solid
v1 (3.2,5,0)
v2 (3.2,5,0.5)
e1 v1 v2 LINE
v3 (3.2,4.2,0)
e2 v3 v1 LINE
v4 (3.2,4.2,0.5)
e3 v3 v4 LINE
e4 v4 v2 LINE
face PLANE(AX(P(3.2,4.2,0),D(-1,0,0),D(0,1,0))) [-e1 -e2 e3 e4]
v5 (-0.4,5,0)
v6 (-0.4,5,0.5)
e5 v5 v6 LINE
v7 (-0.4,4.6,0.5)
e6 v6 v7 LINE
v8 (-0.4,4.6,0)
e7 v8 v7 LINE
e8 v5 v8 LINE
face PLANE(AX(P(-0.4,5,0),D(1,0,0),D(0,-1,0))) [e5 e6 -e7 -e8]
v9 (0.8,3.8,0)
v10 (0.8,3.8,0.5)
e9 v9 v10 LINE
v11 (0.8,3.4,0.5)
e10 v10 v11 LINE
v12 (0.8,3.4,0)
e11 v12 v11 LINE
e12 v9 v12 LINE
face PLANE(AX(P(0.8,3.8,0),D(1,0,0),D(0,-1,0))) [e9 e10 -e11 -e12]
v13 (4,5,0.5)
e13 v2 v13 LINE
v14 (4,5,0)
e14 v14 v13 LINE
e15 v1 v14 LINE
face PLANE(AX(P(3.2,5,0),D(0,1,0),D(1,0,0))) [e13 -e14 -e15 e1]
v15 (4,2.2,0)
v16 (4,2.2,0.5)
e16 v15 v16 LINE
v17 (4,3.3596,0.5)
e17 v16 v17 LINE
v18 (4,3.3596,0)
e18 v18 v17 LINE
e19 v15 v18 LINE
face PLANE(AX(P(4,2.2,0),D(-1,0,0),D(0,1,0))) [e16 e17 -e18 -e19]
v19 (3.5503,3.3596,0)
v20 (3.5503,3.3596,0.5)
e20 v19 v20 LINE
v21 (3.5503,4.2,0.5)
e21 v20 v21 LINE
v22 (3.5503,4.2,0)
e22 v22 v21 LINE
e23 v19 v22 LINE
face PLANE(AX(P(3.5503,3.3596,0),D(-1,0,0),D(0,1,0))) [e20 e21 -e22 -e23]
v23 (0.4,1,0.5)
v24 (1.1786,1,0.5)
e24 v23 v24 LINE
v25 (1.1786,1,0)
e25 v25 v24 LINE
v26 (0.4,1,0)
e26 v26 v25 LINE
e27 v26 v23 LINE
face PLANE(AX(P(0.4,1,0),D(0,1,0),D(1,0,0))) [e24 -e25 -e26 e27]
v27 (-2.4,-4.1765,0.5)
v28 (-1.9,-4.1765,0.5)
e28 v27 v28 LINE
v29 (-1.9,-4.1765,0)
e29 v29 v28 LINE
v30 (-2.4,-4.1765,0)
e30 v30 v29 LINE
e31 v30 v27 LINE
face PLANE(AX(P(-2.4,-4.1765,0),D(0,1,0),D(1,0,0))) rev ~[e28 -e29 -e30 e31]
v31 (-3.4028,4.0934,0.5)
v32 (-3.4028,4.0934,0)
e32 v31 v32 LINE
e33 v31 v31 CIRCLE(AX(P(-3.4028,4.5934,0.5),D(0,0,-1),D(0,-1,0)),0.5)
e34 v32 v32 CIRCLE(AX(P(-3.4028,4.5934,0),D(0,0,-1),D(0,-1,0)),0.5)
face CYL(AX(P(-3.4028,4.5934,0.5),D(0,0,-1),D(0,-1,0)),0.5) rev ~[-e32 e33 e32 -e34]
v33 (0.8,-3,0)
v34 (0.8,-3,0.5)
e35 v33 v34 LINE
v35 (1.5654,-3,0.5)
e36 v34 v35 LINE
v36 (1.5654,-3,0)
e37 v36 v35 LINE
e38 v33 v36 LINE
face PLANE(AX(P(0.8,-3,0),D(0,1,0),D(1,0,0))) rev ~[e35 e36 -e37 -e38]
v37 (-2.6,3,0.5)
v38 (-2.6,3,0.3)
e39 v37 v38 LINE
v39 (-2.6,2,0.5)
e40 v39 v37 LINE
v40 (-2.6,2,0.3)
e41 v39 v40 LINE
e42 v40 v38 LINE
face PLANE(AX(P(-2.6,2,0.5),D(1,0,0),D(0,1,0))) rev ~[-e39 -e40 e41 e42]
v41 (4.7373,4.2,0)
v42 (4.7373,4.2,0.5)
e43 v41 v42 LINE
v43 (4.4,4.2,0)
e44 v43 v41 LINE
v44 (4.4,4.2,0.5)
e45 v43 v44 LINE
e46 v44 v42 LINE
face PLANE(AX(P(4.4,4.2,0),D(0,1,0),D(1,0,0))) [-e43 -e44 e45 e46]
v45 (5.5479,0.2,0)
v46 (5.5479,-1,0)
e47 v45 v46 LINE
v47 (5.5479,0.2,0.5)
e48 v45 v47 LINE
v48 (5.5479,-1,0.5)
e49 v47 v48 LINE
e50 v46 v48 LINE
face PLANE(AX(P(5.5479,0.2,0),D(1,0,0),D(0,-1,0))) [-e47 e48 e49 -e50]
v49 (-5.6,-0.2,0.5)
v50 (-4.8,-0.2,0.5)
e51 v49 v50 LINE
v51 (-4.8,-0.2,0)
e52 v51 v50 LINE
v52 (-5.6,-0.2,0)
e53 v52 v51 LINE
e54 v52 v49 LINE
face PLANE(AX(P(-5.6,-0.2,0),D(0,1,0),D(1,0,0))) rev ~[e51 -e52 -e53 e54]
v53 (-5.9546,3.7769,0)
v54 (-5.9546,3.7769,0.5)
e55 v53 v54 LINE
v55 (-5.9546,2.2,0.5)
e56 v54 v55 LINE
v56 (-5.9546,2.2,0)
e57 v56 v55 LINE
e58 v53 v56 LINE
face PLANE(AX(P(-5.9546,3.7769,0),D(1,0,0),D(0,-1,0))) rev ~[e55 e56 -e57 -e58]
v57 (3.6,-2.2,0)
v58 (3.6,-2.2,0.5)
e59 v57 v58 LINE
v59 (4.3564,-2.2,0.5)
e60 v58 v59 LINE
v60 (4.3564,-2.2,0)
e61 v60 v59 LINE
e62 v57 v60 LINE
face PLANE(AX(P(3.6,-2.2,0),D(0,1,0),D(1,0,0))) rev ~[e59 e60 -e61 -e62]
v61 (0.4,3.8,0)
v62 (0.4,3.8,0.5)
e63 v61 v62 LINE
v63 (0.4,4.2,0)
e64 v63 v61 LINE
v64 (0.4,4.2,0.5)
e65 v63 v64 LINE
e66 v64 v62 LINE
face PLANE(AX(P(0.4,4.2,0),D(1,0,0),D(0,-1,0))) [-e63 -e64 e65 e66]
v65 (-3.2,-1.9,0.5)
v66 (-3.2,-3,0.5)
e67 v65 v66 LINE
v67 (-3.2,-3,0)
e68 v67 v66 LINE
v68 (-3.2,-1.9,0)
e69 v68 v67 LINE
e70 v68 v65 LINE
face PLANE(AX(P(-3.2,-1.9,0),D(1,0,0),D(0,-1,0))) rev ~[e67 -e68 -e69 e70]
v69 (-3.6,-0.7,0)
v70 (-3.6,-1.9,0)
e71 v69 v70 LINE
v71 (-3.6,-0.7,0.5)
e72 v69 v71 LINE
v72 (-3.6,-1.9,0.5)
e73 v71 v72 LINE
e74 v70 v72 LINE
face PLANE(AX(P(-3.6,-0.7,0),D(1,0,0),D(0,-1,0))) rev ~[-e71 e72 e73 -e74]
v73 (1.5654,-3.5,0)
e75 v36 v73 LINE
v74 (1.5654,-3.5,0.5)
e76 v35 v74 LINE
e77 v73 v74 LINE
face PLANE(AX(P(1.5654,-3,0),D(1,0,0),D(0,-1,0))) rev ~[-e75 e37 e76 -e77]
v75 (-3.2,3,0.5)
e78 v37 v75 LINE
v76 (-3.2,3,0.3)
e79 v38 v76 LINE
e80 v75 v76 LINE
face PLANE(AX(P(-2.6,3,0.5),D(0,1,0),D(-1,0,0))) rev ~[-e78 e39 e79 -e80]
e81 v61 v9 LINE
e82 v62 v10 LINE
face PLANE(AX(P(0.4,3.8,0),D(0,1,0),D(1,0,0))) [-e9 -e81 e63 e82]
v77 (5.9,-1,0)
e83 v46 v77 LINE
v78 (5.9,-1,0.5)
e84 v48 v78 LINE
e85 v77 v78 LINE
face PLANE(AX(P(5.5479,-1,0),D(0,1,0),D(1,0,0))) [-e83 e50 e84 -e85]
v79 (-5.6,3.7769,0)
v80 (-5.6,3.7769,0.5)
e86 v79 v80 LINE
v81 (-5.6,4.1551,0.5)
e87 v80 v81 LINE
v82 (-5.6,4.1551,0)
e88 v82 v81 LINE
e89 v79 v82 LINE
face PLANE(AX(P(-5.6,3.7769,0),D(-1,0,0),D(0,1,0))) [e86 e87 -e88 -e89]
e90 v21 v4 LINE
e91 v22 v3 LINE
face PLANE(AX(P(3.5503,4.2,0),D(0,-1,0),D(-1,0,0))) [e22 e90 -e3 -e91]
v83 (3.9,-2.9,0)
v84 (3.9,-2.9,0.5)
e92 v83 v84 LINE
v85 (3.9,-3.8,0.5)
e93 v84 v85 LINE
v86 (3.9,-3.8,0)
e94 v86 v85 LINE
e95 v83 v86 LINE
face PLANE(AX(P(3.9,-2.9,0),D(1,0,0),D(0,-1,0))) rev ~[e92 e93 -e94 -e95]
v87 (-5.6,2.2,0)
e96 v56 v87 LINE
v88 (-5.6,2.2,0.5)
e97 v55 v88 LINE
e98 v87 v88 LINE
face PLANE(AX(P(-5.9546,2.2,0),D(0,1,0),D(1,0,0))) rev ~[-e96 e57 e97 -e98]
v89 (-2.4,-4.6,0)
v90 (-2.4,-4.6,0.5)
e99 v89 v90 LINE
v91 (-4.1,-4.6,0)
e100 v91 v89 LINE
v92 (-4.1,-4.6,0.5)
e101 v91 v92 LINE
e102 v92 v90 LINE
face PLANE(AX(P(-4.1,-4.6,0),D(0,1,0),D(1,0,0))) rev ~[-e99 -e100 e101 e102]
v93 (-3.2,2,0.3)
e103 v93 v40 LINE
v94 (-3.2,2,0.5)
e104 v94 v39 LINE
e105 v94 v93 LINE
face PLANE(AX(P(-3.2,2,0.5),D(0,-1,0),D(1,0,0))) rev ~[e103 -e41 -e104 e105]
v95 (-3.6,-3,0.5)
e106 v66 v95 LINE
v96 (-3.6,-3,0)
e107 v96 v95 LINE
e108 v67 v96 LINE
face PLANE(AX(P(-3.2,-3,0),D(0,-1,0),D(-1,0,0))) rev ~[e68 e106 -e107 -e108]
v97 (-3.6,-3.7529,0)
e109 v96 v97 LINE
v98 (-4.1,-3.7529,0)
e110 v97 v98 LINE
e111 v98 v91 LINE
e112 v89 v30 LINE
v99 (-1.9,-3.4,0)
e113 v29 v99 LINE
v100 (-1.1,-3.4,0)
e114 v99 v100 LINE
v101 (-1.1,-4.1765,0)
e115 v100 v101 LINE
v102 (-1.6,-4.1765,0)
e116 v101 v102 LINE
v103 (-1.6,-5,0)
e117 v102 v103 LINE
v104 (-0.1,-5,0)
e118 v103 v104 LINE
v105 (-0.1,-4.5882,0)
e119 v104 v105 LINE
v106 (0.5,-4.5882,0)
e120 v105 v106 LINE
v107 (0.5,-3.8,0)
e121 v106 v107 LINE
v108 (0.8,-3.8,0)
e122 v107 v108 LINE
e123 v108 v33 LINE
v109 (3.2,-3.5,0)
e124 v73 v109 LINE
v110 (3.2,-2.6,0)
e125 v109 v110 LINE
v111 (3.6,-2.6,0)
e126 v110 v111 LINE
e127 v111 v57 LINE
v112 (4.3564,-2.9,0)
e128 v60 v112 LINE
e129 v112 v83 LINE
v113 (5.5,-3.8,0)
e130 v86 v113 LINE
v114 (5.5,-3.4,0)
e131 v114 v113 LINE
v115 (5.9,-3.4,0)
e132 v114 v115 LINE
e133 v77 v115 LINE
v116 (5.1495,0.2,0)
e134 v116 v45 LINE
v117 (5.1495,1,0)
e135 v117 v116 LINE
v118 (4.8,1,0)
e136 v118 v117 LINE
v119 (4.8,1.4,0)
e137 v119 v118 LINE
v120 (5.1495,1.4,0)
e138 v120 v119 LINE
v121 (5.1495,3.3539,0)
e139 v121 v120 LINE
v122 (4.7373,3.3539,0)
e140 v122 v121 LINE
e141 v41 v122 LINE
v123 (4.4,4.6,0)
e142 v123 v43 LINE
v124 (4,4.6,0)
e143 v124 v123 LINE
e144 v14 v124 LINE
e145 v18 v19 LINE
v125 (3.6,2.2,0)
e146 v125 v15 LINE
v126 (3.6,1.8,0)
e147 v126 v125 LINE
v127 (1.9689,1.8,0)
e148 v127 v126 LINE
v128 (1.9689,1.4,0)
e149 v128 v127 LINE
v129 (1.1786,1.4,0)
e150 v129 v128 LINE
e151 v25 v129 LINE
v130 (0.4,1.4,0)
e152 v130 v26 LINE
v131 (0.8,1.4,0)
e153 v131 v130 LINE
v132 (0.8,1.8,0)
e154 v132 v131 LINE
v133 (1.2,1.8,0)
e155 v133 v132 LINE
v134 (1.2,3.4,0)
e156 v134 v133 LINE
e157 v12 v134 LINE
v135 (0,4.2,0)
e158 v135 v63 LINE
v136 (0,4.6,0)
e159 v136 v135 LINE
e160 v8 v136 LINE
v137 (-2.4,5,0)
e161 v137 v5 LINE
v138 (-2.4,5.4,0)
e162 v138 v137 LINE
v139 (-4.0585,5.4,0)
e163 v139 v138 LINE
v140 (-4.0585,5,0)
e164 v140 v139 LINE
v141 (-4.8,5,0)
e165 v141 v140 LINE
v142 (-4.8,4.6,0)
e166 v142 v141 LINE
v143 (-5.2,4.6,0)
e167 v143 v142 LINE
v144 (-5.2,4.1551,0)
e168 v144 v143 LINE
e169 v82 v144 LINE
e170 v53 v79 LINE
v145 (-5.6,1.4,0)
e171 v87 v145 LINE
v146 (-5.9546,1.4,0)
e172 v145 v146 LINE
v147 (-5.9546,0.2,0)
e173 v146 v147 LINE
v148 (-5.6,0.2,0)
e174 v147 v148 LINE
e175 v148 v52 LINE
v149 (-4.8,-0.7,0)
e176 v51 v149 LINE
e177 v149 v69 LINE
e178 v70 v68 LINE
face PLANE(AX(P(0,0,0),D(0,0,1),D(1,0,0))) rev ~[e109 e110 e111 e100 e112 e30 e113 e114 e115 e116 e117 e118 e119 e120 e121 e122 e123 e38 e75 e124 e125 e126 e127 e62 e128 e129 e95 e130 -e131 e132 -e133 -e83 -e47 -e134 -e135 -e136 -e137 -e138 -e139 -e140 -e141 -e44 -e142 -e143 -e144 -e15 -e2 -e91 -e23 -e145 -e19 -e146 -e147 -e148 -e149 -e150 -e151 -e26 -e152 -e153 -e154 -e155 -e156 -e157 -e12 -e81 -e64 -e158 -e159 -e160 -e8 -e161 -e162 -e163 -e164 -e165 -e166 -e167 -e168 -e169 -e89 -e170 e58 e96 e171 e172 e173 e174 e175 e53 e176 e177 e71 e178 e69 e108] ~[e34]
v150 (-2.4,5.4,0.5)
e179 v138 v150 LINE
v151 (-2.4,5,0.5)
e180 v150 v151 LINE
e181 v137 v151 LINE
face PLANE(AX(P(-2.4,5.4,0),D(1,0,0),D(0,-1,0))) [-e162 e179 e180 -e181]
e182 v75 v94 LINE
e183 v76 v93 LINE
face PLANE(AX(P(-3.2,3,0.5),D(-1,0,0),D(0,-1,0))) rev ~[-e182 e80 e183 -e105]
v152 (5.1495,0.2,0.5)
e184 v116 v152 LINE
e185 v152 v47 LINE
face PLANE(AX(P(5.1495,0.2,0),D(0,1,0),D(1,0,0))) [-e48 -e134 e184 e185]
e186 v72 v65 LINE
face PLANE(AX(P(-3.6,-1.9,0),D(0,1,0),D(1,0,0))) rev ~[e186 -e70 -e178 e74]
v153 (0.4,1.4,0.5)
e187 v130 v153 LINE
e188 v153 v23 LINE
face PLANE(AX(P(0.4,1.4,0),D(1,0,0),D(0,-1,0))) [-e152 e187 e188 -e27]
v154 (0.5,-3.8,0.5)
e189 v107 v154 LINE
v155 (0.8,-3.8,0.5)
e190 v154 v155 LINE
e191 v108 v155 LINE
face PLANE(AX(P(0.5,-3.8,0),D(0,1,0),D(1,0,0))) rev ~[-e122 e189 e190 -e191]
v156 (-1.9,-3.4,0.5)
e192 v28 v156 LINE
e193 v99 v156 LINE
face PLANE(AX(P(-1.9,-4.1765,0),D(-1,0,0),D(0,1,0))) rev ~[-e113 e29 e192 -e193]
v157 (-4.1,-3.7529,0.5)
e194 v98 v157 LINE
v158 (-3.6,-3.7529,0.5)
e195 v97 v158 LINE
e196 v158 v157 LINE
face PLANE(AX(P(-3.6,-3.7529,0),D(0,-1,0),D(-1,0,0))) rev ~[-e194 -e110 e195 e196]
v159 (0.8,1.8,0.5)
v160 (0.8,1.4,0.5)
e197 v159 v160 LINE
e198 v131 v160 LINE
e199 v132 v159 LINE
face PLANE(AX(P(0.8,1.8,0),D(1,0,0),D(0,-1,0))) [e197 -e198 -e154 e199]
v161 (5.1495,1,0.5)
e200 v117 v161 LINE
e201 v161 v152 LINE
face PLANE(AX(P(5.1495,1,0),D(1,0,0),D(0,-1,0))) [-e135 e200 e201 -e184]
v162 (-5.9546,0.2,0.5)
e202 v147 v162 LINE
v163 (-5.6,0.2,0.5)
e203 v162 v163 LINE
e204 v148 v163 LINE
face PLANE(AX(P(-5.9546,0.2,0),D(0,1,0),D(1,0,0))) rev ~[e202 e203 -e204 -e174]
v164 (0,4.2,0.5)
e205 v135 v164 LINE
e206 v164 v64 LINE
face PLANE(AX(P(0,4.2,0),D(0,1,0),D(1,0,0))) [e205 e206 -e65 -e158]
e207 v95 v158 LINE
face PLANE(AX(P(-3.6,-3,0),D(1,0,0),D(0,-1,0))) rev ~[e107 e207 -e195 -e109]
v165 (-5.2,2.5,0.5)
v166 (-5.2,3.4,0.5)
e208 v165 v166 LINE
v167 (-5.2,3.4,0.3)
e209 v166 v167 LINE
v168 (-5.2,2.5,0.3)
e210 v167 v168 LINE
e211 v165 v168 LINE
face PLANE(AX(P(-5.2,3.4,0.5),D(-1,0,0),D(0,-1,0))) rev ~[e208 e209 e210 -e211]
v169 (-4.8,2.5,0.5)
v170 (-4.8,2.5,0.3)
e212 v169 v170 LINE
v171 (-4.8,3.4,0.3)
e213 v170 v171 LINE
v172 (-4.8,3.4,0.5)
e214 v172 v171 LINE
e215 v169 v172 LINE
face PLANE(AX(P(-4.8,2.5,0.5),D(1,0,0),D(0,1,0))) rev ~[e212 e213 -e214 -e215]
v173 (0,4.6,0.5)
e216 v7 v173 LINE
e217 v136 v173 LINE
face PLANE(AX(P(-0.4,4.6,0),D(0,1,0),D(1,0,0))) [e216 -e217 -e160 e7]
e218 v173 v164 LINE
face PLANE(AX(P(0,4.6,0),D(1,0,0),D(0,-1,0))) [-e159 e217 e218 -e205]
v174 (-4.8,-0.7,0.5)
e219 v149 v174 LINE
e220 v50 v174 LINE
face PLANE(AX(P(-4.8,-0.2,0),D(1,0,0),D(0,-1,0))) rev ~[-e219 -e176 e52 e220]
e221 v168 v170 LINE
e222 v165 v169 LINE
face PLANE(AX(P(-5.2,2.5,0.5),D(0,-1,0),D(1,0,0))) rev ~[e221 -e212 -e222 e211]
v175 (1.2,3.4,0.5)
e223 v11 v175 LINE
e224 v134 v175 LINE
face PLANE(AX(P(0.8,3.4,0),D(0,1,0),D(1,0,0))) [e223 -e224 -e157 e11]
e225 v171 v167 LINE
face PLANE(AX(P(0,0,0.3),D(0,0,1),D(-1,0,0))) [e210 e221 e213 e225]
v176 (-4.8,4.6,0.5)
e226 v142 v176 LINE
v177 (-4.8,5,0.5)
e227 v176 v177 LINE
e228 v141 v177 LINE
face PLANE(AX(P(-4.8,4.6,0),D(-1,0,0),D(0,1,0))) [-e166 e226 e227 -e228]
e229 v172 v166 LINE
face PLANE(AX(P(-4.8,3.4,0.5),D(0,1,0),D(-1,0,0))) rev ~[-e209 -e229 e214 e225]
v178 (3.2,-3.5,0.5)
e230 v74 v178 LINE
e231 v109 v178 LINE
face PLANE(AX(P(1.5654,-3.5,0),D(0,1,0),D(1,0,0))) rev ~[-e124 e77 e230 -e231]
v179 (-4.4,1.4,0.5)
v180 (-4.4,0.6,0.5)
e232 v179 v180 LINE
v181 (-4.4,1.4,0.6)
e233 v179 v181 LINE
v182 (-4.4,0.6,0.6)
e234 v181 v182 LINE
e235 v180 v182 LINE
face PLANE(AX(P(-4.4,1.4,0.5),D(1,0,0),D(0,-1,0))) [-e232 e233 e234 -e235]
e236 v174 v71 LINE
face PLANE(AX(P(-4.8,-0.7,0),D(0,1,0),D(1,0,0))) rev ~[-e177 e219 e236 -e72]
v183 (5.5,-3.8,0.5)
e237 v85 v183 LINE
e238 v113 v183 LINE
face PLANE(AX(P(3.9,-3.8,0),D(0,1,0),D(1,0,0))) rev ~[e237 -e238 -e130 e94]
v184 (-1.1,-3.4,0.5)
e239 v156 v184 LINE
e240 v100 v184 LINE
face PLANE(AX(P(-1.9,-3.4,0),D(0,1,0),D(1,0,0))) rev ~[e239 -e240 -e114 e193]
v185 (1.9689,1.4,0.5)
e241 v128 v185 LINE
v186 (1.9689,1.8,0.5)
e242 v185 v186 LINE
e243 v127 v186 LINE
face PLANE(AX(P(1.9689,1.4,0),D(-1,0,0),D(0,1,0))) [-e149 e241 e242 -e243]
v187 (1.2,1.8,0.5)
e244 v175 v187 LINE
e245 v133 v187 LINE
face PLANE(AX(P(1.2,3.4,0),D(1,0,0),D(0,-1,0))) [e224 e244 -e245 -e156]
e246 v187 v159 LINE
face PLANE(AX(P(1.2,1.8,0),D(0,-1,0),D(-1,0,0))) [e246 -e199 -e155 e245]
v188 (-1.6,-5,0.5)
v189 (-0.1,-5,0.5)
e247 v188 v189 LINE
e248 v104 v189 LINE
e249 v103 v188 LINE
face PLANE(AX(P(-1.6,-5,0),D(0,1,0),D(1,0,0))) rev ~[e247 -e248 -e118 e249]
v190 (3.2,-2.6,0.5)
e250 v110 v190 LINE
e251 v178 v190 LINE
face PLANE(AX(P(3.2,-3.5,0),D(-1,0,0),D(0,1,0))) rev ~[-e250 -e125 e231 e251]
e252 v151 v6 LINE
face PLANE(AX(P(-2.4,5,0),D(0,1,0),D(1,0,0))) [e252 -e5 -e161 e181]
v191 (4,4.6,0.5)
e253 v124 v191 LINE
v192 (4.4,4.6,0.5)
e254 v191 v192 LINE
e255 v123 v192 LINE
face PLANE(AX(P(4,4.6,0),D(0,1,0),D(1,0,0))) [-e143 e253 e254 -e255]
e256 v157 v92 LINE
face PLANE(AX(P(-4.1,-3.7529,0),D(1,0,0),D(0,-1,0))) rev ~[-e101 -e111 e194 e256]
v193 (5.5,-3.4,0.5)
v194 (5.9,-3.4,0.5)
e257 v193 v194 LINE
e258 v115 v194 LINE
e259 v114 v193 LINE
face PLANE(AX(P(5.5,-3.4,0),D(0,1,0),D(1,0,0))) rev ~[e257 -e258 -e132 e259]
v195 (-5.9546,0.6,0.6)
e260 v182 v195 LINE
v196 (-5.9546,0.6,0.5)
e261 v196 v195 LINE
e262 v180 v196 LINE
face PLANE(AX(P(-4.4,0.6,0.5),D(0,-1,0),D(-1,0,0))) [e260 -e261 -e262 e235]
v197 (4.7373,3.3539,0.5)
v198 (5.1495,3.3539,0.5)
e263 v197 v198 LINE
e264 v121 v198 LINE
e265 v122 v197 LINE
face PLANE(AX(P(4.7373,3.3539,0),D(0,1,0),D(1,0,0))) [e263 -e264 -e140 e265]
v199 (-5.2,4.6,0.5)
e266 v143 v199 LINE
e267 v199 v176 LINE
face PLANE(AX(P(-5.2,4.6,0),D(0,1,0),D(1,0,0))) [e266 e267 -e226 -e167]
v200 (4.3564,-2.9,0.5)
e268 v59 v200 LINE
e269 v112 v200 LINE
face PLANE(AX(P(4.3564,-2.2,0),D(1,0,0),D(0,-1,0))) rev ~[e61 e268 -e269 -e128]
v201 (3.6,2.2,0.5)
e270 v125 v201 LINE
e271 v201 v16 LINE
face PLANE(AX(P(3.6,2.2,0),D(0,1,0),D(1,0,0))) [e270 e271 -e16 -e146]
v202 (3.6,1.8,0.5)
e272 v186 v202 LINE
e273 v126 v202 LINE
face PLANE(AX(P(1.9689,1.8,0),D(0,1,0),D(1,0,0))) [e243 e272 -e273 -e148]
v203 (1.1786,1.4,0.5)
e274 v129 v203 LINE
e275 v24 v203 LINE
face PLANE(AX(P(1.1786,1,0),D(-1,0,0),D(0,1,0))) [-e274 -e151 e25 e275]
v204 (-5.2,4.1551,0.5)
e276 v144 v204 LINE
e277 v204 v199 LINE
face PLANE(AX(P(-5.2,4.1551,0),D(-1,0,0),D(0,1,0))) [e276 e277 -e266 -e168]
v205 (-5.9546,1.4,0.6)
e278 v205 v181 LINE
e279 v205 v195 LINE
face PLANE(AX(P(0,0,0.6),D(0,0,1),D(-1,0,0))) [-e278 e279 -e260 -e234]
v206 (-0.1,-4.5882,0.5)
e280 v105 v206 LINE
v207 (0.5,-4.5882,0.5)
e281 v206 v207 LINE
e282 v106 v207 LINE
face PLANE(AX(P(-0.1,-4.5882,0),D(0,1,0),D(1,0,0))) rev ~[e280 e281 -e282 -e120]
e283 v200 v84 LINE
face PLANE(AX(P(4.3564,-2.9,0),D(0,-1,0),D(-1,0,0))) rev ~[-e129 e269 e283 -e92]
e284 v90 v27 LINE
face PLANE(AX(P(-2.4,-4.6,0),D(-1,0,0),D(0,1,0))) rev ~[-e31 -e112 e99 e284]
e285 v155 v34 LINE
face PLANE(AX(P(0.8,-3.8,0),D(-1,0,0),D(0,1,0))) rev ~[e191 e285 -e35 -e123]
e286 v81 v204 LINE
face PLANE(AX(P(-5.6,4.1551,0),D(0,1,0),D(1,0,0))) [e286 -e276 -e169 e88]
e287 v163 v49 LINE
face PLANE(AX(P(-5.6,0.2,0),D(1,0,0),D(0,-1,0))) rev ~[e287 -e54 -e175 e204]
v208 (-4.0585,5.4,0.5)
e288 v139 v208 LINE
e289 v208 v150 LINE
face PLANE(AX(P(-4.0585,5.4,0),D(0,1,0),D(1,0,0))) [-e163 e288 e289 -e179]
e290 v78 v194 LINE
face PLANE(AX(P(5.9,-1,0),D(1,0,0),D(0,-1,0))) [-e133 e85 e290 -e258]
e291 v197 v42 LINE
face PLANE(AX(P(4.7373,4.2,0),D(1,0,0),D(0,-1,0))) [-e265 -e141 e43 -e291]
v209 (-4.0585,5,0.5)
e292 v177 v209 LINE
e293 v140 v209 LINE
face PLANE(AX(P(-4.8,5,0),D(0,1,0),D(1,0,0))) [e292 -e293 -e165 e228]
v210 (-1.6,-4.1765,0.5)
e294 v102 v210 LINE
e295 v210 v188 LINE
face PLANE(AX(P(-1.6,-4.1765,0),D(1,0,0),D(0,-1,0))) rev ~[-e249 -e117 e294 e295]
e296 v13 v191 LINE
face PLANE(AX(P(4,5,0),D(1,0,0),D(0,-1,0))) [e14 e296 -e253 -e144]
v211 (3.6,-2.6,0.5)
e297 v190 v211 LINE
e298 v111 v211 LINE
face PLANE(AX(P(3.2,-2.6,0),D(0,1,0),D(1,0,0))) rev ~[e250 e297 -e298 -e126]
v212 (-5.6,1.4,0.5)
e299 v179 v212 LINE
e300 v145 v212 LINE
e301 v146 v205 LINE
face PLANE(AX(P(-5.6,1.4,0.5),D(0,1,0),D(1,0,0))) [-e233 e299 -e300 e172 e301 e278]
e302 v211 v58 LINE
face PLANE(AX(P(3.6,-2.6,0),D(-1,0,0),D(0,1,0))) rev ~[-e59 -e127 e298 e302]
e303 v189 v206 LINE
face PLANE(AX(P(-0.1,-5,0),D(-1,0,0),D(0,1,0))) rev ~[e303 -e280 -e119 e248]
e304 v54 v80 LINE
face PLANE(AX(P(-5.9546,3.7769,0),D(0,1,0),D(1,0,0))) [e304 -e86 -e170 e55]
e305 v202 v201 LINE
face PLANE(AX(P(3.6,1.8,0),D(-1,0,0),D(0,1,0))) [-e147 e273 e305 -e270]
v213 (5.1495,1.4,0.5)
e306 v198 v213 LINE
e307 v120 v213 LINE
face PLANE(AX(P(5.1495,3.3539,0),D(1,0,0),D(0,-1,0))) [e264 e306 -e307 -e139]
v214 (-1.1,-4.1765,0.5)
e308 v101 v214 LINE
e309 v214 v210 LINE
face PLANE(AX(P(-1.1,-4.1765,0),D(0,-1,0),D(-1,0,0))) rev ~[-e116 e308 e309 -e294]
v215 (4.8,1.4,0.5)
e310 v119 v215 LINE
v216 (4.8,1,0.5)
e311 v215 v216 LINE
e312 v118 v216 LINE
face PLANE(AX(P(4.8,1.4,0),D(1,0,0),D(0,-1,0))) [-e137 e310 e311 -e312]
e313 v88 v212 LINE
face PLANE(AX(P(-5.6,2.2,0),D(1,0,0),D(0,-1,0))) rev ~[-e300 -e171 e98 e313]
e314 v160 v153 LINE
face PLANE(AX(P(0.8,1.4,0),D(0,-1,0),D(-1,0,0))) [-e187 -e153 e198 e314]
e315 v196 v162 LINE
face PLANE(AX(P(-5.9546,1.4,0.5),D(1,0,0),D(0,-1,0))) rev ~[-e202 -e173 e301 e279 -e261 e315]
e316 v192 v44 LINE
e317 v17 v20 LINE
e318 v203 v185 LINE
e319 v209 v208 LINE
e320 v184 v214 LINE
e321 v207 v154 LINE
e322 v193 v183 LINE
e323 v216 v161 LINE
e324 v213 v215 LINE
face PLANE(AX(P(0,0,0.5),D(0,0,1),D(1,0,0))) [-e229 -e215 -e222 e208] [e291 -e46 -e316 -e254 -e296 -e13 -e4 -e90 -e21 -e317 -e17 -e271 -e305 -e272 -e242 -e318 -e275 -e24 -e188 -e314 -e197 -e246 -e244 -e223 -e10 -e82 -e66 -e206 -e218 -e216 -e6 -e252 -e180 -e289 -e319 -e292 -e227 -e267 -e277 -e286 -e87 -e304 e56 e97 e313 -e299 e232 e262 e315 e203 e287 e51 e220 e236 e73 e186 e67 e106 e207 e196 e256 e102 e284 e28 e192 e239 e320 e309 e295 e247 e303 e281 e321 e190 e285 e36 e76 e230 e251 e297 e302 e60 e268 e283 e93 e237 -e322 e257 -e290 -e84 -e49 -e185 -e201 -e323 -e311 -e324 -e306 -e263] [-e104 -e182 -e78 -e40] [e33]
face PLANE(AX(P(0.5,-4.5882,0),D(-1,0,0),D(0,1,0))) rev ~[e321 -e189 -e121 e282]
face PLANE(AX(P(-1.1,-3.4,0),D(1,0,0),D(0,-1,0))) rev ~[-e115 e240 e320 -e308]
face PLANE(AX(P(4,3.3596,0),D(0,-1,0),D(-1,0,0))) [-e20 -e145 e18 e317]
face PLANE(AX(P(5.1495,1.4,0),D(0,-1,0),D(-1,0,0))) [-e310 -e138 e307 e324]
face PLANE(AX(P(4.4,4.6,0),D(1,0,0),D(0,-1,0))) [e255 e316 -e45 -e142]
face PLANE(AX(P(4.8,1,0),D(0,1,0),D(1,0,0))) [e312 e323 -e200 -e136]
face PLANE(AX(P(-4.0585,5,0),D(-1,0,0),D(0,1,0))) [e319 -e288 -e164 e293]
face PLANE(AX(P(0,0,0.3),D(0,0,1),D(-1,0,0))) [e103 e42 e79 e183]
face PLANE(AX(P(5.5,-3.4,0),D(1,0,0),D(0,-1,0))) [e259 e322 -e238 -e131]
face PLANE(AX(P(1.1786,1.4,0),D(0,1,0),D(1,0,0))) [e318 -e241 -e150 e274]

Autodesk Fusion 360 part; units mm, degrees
sketch "Dog_body" plane through (0, 0, 0) normal (0, 0, 1) x (1, 0, 0)
  line L0 (-5.9546, 3.7769) -> (-5.6, 3.7769)
  line L1 (-5.6, 3.7769) -> (-5.6, 4.1551)
  line L2 (-5.6, 4.1551) -> (-5.2, 4.1551)
  line L3 (-5.2, 4.1551) -> (-5.2, 4.6)
  line L4 (-5.2, 4.6) -> (-4.8, 4.6)
  line L5 (-4.8, 4.6) -> (-4.8, 5)
  line L6 (-4.8, 5) -> (-4.0585, 5)
  line L7 (-4.0585, 5) -> (-4.0585, 5.4)
  line L8 (-4.0585, 5.4) -> (-2.4, 5.4)
  line L9 (-2.4, 5.4) -> (-2.4, 5)
  line L10 (-2.4, 5) -> (-0.4, 5)
  line L11 (-0.4, 5) -> (-0.4, 4.6)
  line L12 (-5.9546, 3.7769) -> (-5.9546, 2.2)
  line L13 (-5.9546, 2.2) -> (-5.6, 2.2)
  line L14 (-5.6, 2.2) -> (-5.6, 1.4)
  line L15 (-5.6, 1.4) -> (-5.9546, 1.4)
  line L16 (-5.9546, 1.4) -> (-5.9546, 0.2)
  line L17 (-5.9546, 0.2) -> (-5.6, 0.2)
  line L18 (-5.6, 0.2) -> (-5.6, -0.2)
  line L19 (-5.6, -0.2) -> (-4.8, -0.2)
  line L20 (-4.8, -0.2) -> (-4.8, -0.7)
  line L21 (-4.8, -0.7) -> (-3.6, -0.7)
  line L22 (-3.6, -0.7) -> (-3.6, -1.9)
  line L23 (-3.6, -1.9) -> (-3.2, -1.9)
  line L24 (-3.2, -1.9) -> (-3.2, -3)
  line L25 (-3.2, -3) -> (-3.6, -3)
  line L26 (-3.6, -3) -> (-3.6, -3.7529)
  line L27 (-3.6, -3.7529) -> (-4.1, -3.7529)
  line L28 (-4.1, -3.7529) -> (-4.1, -4.6)
  line L29 (-4.1, -4.6) -> (-2.4, -4.6)
  line L30 (-2.4, -4.6) -> (-2.4, -4.1765)
  line L31 (-2.4, -4.1765) -> (-1.9, -4.1765)
  line L32 (-1.9, -4.1765) -> (-1.9, -3.4)
  line L33 (-1.9, -3.4) -> (-1.1, -3.4)
  line L34 (-1.1, -3.4) -> (-1.1, -4.1765)
  line L35 (-1.1, -4.1765) -> (-1.6, -4.1765)
  line L36 (-1.6, -4.1765) -> (-1.6, -5)
  line L37 (-1.6, -5) -> (-0.1, -5)
  line L38 (-0.1, -5) -> (-0.1, -4.5882)
  line L39 (-0.1, -4.5882) -> (0.5, -4.5882)
  line L40 (0.5, -4.5882) -> (0.5, -3.8)
  line L41 (5.1495, 3.3539) -> (5.1495, 1.4)
  line L42 (5.1495, 1.4) -> (4.8, 1.4)
  line L43 (4.8, 1.4) -> (4.8, 1)
  line L44 (4.8, 1) -> (5.1495, 1)
  line L45 (5.1495, 1) -> (5.1495, 0.2)
  line L46 (5.1495, 0.2) -> (5.5479, 0.2)
  line L47 (5.5479, 0.2) -> (5.5479, -1)
  line L48 (5.5479, -1) -> (5.9, -1)
  line L49 (5.9, -1) -> (5.9, -3.4)
  line L50 (-0.4, 4.6) -> (0, 4.6)
  line L51 (0, 4.6) -> (0, 4.2)
  line L52 (0, 4.2) -> (0.4, 4.2)
  line L53 (0.4, 4.2) -> (0.4, 3.8)
  line L54 (0.4, 3.8) -> (0.8, 3.8)
  line L55 (0.8, 3.8) -> (0.8, 3.4)
  line L56 (0.8, 3.4) -> (1.2, 3.4)
  line L57 (1.2, 3.4) -> (1.2, 1.8)
  line L58 (1.2, 1.8) -> (0.8, 1.8)
  line L59 (0.8, 1.8) -> (0.8, 1.4)
  line L60 (0.8, 1.4) -> (0.4, 1.4)
  line L61 (0.4, 1.4) -> (0.4, 1)
  line L62 (0.4, 1) -> (1.1786, 1)
  line L63 (1.1786, 1) -> (1.1786, 1.4)
  line L64 (1.1786, 1.4) -> (1.9689, 1.4)
  line L65 (1.9689, 1.4) -> (1.9689, 1.8)
  line L66 (1.9689, 1.8) -> (3.6, 1.8)
  line L67 (3.6, 1.8) -> (3.6, 2.2)
  line L68 (3.6, 2.2) -> (4, 2.2)
  line L69 (4, 2.2) -> (4, 3.3596)
  line L70 (4, 3.3596) -> (3.5503, 3.3596)
  line L71 (3.5503, 3.3596) -> (3.5503, 4.2)
  line L72 (3.5503, 4.2) -> (3.2, 4.2)
  line L73 (3.2, 4.2) -> (3.2, 5)
  line L74 (3.2, 5) -> (4, 5)
  line L75 (4, 5) -> (4, 4.6)
  line L76 (4, 4.6) -> (4.4, 4.6)
  line L77 (4.4, 4.6) -> (4.4, 4.2)
  line L78 (4.4, 4.2) -> (4.7373, 4.2)
  line L79 (4.7373, 4.2) -> (4.7373, 3.4)
  line L80 (4.7373, 3.4) -> (4.7373, 3.3539)
  line L81 (4.7373, 3.3539) -> (5.1495, 3.3539)
  line L82 (0.5, -3.8) -> (0.8, -3.8)
  line L83 (0.8, -3.8) -> (0.8, -3)
  line L84 (0.8, -3) -> (1.5654, -3)
  line L85 (1.5654, -3) -> (1.5654, -3.5)
  line L86 (1.5654, -3.5) -> (3.2, -3.5)
  line L87 (3.2, -3.5) -> (3.2, -2.6)
  line L88 (3.2, -2.6) -> (3.6, -2.6)
  line L89 (3.6, -2.6) -> (3.6, -2.2)
  line L90 (3.6, -2.2) -> (4.3564, -2.2)
  line L91 (4.3564, -2.2) -> (4.3564, -2.9)
  line L92 (4.3564, -2.9) -> (3.9, -2.9)
  line L93 (3.9, -2.9) -> (3.9, -3.8)
  line L94 (3.9, -3.8) -> (5.5, -3.8)
  line L95 (5.5, -3.4) -> (5.9, -3.4)
  line L96 (5.5, -3.4) -> (5.5, -3.8)
extrude "Extrude1" add sketch "Dog_body" along normal blind 0.5
sketch "Dog_eyes" plane through (0, 0, 0.5) normal (0, 0, 1) x (-1, 0, 0)
  line L0 (5.9546, -3.7769) -> (5.9546, -2.2)
  line L1 (5.9546, -2.2) -> (5.6, -2.2)
  line L2 (5.6, -2.2) -> (5.6, -1.4)
  line L3 (5.6, -1.4) -> (5.9546, -1.4)
  line L4 (5.9546, -1.4) -> (5.9546, -0.2)
  line L5 (5.9546, -0.2) -> (5.6, -0.2)
  line L6 (5.6, -0.2) -> (5.6, 0.2)
  line L7 (5.6, 0.2) -> (4.8, 0.2)
  line L8 (4.8, 0.2) -> (4.8, 0.7)
  line L9 (4.8, 0.7) -> (3.6, 0.7)
  line L10 (3.6, 0.7) -> (3.6, 1.9)
  line L11 (3.6, 1.9) -> (3.2, 1.9)
  line L12 (3.2, 1.9) -> (3.2, 3)
  line L13 (3.2, 3) -> (3.6, 3)
  line L14 (3.6, 3) -> (3.6, 3.7529)
  line L15 (3.6, 3.7529) -> (4.1, 3.7529)
  line L16 (4.1, 3.7529) -> (4.1, 4.6)
  line L17 (4.1, 4.6) -> (2.4, 4.6)
  line L18 (2.4, 4.6) -> (2.4, 4.1765)
  line L19 (2.4, 4.1765) -> (1.9, 4.1765)
  line L20 (1.9, 4.1765) -> (1.9, 3.4)
  line L21 (1.9, 3.4) -> (1.1, 3.4)
  line L22 (1.1, 3.4) -> (1.1, 4.1765)
  line L23 (1.1, 4.1765) -> (1.6, 4.1765)
  line L24 (1.6, 4.1765) -> (1.6, 5)
  line L25 (1.6, 5) -> (0.1, 5)
  line L26 (0.1, 5) -> (0.1, 4.5882)
  line L27 (0.1, 4.5882) -> (-0.5, 4.5882)
  line L28 (-0.5, 4.5882) -> (-0.5, 3.8)
  line L29 (-0.5, 3.8) -> (-0.8, 3.8)
  line L30 (-0.8, 3.8) -> (-0.8, 3)
  line L31 (-0.8, 3) -> (-1.5654, 3)
  line L32 (-1.5654, 3) -> (-1.5654, 3.5)
  line L33 (-1.5654, 3.5) -> (-3.2, 3.5)
  line L34 (-3.2, 3.5) -> (-3.2, 2.6)
  line L35 (-3.2, 2.6) -> (-3.6, 2.6)
  line L36 (-3.6, 2.6) -> (-3.6, 2.2)
  line L37 (-3.6, 2.2) -> (-4.3564, 2.2)
  line L38 (-4.3564, 2.2) -> (-4.3564, 2.9)
  line L39 (-4.3564, 2.9) -> (-3.9, 2.9)
  line L40 (-3.9, 2.9) -> (-3.9, 3.8)
  line L41 (-3.9, 3.8) -> (-5.5, 3.8)
  line L42 (-5.5, 3.8) -> (-5.5, 3.4)
  line L43 (-5.5, 3.4) -> (-5.9, 3.4)
  line L44 (-5.9, 3.4) -> (-5.9, 1)
  line L45 (-5.9, 1) -> (-5.5479, 1)
  line L46 (-5.5479, 1) -> (-5.5479, -0.2)
  line L47 (-5.5479, -0.2) -> (-5.1495, -0.2)
  line L48 (-5.1495, -0.2) -> (-5.1495, -1)
  line L49 (-5.1495, -1) -> (-4.8, -1)
  line L50 (-4.8, -1) -> (-4.8, -1.4)
  line L51 (-4.8, -1.4) -> (-5.1495, -1.4)
  line L52 (-5.1495, -1.4) -> (-5.1495, -3.3539)
  line L53 (-5.1495, -3.3539) -> (-4.7373, -3.3539)
  line L54 (-4.7373, -3.3539) -> (-4.7373, -4.2)
  line L55 (-4.7373, -4.2) -> (-4.4, -4.2)
  line L56 (-4.4, -4.2) -> (-4.4, -4.6)
  line L57 (-4.4, -4.6) -> (-4, -4.6)
  line L58 (-4, -4.6) -> (-4, -5)
  line L59 (-4, -5) -> (-3.2, -5)
  line L60 (-3.2, -5) -> (-3.2, -4.2)
  line L61 (-3.2, -4.2) -> (-3.5503, -4.2)
  line L62 (-3.5503, -4.2) -> (-3.5503, -3.3596)
  line L63 (-3.5503, -3.3596) -> (-4, -3.3596)
  line L64 (-4, -3.3596) -> (-4, -2.2)
  line L65 (-4, -2.2) -> (-3.6, -2.2)
  line L66 (-3.6, -2.2) -> (-3.6, -1.8)
  line L67 (-3.6, -1.8) -> (-1.9689, -1.8)
  line L68 (-1.9689, -1.8) -> (-1.9689, -1.4)
  line L69 (-1.9689, -1.4) -> (-1.1786, -1.4)
  line L70 (-1.1786, -1.4) -> (-1.1786, -1)
  line L71 (-1.1786, -1) -> (-0.4, -1)
  line L72 (-0.4, -1) -> (-0.4, -1.4)
  line L73 (-0.4, -1.4) -> (-0.8, -1.4)
  line L74 (-0.8, -1.4) -> (-0.8, -1.8)
  line L75 (-0.8, -1.8) -> (-1.2, -1.8)
  line L76 (-1.2, -1.8) -> (-1.2, -3.4)
  line L77 (-1.2, -3.4) -> (-0.8, -3.4)
  line L78 (-0.8, -3.4) -> (-0.8, -3.8)
  line L79 (-0.8, -3.8) -> (-0.4, -3.8)
  line L80 (-0.4, -3.8) -> (-0.4, -4.2)
  line L81 (-0.4, -4.2) -> (0, -4.2)
  line L82 (0, -4.2) -> (0, -4.6)
  line L83 (0, -4.6) -> (0.4, -4.6)
  line L84 (0.4, -4.6) -> (0.4, -5)
  line L85 (0.4, -5) -> (2.4, -5)
  line L86 (2.4, -5) -> (2.4, -5.4)
  line L87 (2.4, -5.4) -> (4.0585, -5.4)
  line L88 (4.0585, -5.4) -> (4.0585, -5)
  line L89 (4.0585, -5) -> (4.8, -5)
  line L90 (4.8, -5) -> (4.8, -4.6)
  line L91 (4.8, -4.6) -> (5.2, -4.6)
  line L92 (5.2, -4.6) -> (5.2, -4.1551)
  line L93 (5.2, -4.1551) -> (5.6, -4.1551)
  line L94 (5.6, -4.1551) -> (5.6, -3.7769)
  line L95 (5.6, -3.7769) -> (5.9546, -3.7769)
  line L96 (3.2, -3) -> (3.2, -2)
  line L97 (3.2, -2) -> (2.6, -2)
  line L98 (2.6, -2) -> (2.6, -3)
  line L99 (2.6, -3) -> (3.2, -3)
  line L100 (5.2, -3.3) -> (5.2, -2.5)
  line L101 (5.2, -2.5) -> (4.8, -2.5)
  line L102 (4.8, -2.5) -> (4.8, -3.4)
  line L103 (4.8, -3.4) -> (5.2, -3.4)
  line L104 (5.2, -3.4) -> (5.2, -3.3)
extrude "Extrude2" cut sketch "Dog_eyes" against normal blind 0.2 contours L96 L97 L98 L99 | L100 L101 L102 L103 L104
sketch "Sketch3" plane through (0, 0, 0.5) normal (0, 0, 1) x (-1, 0, 0)
  line L0 (4.8, -2.5) -> (5.2, -2.5)
  line L1 (5.2, -2.5) -> (5.2, -3.4)
  line L2 (5.2, -3.4) -> (4.8, -3.4)
  line L3 (4.8, -3.4) -> (4.8, -2.5)
  line L4 (3.2, -2) -> (3.2, -3)
  line L5 (3.2, -3) -> (2.6, -3)
  line L6 (2.6, -3) -> (2.6, -2)
  line L7 (2.6, -2) -> (3.2, -2)
  line L8 (5.9546, -3.7769) -> (5.9546, -2.2)
  line L9 (5.9546, -2.2) -> (5.6, -2.2)
  line L10 (5.6, -2.2) -> (5.6, -1.4)
  line L11 (5.6, -1.4) -> (5.9546, -1.4)
  line L12 (5.9546, -1.4) -> (5.9546, -0.2)
  line L13 (5.9546, -0.2) -> (5.6, -0.2)
  line L14 (5.6, -0.2) -> (5.6, 0.2)
  line L15 (5.6, 0.2) -> (4.8, 0.2)
  line L16 (4.8, 0.2) -> (4.8, 0.7)
  line L17 (4.8, 0.7) -> (3.6, 0.7)
  line L18 (3.6, 0.7) -> (3.6, 1.9)
  line L19 (3.6, 1.9) -> (3.2, 1.9)
  line L20 (3.2, 1.9) -> (3.2, 3)
  line L21 (3.2, 3) -> (3.6, 3)
  line L22 (3.6, 3) -> (3.6, 3.7529)
  line L23 (3.6, 3.7529) -> (4.1, 3.7529)
  line L24 (4.1, 3.7529) -> (4.1, 4.6)
  line L25 (4.1, 4.6) -> (2.4, 4.6)
  line L26 (2.4, 4.6) -> (2.4, 4.1765)
  line L27 (2.4, 4.1765) -> (1.9, 4.1765)
  line L28 (1.9, 4.1765) -> (1.9, 3.4)
  line L29 (1.9, 3.4) -> (1.1, 3.4)
  line L30 (1.1, 3.4) -> (1.1, 4.1765)
  line L31 (1.1, 4.1765) -> (1.6, 4.1765)
  line L32 (1.6, 4.1765) -> (1.6, 5)
  line L33 (1.6, 5) -> (0.1, 5)
  line L34 (0.1, 5) -> (0.1, 4.5882)
  line L35 (0.1, 4.5882) -> (-0.5, 4.5882)
  line L36 (-0.5, 4.5882) -> (-0.5, 3.8)
  line L37 (-0.5, 3.8) -> (-0.8, 3.8)
  line L38 (-0.8, 3.8) -> (-0.8, 3)
  line L39 (-0.8, 3) -> (-1.5654, 3)
  line L40 (-1.5654, 3) -> (-1.5654, 3.5)
  line L41 (-1.5654, 3.5) -> (-3.2, 3.5)
  line L42 (-3.2, 3.5) -> (-3.2, 2.6)
  line L43 (-3.2, 2.6) -> (-3.6, 2.6)
  line L44 (-3.6, 2.6) -> (-3.6, 2.2)
  line L45 (-3.6, 2.2) -> (-4.3564, 2.2)
  line L46 (-4.3564, 2.2) -> (-4.3564, 2.9)
  line L47 (-4.3564, 2.9) -> (-3.9, 2.9)
  line L48 (-3.9, 2.9) -> (-3.9, 3.8)
  line L49 (-3.9, 3.8) -> (-5.5, 3.8)
  line L50 (-5.5, 3.8) -> (-5.5, 3.4)
  line L51 (-5.5, 3.4) -> (-5.9, 3.4)
  line L52 (-5.9, 3.4) -> (-5.9, 1)
  line L53 (-5.9, 1) -> (-5.5479, 1)
  line L54 (-5.5479, 1) -> (-5.5479, -0.2)
  line L55 (-5.5479, -0.2) -> (-5.1495, -0.2)
  line L56 (-5.1495, -0.2) -> (-5.1495, -1)
  line L57 (-5.1495, -1) -> (-4.8, -1)
  line L58 (-4.8, -1) -> (-4.8, -1.4)
  line L59 (-4.8, -1.4) -> (-5.1495, -1.4)
  line L60 (-5.1495, -1.4) -> (-5.1495, -3.3539)
  line L61 (-5.1495, -3.3539) -> (-4.7373, -3.3539)
  line L62 (-4.7373, -3.3539) -> (-4.7373, -4.2)
  line L63 (-4.7373, -4.2) -> (-4.4, -4.2)
  line L64 (-4.4, -4.2) -> (-4.4, -4.6)
  line L65 (-4.4, -4.6) -> (-4, -4.6)
  line L66 (-4, -4.6) -> (-4, -5)
  line L67 (-4, -5) -> (-3.2, -5)
  line L68 (-3.2, -5) -> (-3.2, -4.2)
  line L69 (-3.2, -4.2) -> (-3.5503, -4.2)
  line L70 (-3.5503, -4.2) -> (-3.5503, -3.3596)
  line L71 (-3.5503, -3.3596) -> (-4, -3.3596)
  line L72 (-4, -3.3596) -> (-4, -2.2)
  line L73 (-4, -2.2) -> (-3.6, -2.2)
  line L74 (-3.6, -2.2) -> (-3.6, -1.8)
  line L75 (-3.6, -1.8) -> (-1.9689, -1.8)
  line L76 (-1.9689, -1.8) -> (-1.9689, -1.4)
  line L77 (-1.9689, -1.4) -> (-1.1786, -1.4)
  line L78 (-1.1786, -1.4) -> (-1.1786, -1)
  line L79 (-1.1786, -1) -> (-0.4, -1)
  line L80 (-0.4, -1) -> (-0.4, -1.4)
  line L81 (-0.4, -1.4) -> (-0.8, -1.4)
  line L82 (-0.8, -1.4) -> (-0.8, -1.8)
  line L83 (-0.8, -1.8) -> (-1.2, -1.8)
  line L84 (-1.2, -1.8) -> (-1.2, -3.4)
  line L85 (-1.2, -3.4) -> (-0.8, -3.4)
  line L86 (-0.8, -3.4) -> (-0.8, -3.8)
  line L87 (-0.8, -3.8) -> (-0.4, -3.8)
  line L88 (-0.4, -3.8) -> (-0.4, -4.2)
  line L89 (-0.4, -4.2) -> (0, -4.2)
  line L90 (0, -4.2) -> (0, -4.6)
  line L91 (0, -4.6) -> (0.4, -4.6)
  line L92 (0.4, -4.6) -> (0.4, -5)
  line L93 (0.4, -5) -> (2.4, -5)
  line L94 (2.4, -5) -> (2.4, -5.4)
  line L95 (2.4, -5.4) -> (4.0585, -5.4)
  line L96 (4.0585, -5.4) -> (4.0585, -5)
  line L97 (4.0585, -5) -> (4.8, -5)
  line L98 (4.8, -5) -> (4.8, -4.6)
  line L99 (4.8, -4.6) -> (5.2, -4.6)
  line L100 (5.2, -4.6) -> (5.2, -4.1551)
  line L101 (5.2, -4.1551) -> (5.6, -4.1551)
  line L102 (5.6, -4.1551) -> (5.6, -3.7769)
  line L103 (5.6, -3.7769) -> (5.9546, -3.7769)
  line L104 (5.6, -1.4) -> (4.4, -1.4)
  line L105 (4.4, -1.4) -> (4.4, -0.6)
  line L106 (4.4, -0.6) -> (5.9546, -0.6)
  line L107 (5.9546, -1.4) -> (5.5, -1.4)
  line L108 (5.6, -1.4) -> (5.9546, -1.4)
  line L109 (5.6, -1.4) -> (4.4, -1.4)
  line L110 (5.6, -1.4) -> (5.9546, -1.4)
  line L111 (5.9546, -0.6568) -> (5.9546, -0.6)
  line L112 (5.9546, -0.6) -> (5.9546, -1.4)
extrude "Extrude3" add sketch "Sketch3" along normal blind 0.2 contours L11 L12 L104 L105 L106 L107 L108 L109 L110 L111 L112
extrude "Extrude4" cut 1 faces at (-4.9182, 0.8667, 0.7) along direction (0, 0, -1) blind 0.1
hole "Hole1" at (-3.4028, 4.5934, 0.5) direction (0, 0, -1) diameter 1 depth 2.5 tip angle 118
